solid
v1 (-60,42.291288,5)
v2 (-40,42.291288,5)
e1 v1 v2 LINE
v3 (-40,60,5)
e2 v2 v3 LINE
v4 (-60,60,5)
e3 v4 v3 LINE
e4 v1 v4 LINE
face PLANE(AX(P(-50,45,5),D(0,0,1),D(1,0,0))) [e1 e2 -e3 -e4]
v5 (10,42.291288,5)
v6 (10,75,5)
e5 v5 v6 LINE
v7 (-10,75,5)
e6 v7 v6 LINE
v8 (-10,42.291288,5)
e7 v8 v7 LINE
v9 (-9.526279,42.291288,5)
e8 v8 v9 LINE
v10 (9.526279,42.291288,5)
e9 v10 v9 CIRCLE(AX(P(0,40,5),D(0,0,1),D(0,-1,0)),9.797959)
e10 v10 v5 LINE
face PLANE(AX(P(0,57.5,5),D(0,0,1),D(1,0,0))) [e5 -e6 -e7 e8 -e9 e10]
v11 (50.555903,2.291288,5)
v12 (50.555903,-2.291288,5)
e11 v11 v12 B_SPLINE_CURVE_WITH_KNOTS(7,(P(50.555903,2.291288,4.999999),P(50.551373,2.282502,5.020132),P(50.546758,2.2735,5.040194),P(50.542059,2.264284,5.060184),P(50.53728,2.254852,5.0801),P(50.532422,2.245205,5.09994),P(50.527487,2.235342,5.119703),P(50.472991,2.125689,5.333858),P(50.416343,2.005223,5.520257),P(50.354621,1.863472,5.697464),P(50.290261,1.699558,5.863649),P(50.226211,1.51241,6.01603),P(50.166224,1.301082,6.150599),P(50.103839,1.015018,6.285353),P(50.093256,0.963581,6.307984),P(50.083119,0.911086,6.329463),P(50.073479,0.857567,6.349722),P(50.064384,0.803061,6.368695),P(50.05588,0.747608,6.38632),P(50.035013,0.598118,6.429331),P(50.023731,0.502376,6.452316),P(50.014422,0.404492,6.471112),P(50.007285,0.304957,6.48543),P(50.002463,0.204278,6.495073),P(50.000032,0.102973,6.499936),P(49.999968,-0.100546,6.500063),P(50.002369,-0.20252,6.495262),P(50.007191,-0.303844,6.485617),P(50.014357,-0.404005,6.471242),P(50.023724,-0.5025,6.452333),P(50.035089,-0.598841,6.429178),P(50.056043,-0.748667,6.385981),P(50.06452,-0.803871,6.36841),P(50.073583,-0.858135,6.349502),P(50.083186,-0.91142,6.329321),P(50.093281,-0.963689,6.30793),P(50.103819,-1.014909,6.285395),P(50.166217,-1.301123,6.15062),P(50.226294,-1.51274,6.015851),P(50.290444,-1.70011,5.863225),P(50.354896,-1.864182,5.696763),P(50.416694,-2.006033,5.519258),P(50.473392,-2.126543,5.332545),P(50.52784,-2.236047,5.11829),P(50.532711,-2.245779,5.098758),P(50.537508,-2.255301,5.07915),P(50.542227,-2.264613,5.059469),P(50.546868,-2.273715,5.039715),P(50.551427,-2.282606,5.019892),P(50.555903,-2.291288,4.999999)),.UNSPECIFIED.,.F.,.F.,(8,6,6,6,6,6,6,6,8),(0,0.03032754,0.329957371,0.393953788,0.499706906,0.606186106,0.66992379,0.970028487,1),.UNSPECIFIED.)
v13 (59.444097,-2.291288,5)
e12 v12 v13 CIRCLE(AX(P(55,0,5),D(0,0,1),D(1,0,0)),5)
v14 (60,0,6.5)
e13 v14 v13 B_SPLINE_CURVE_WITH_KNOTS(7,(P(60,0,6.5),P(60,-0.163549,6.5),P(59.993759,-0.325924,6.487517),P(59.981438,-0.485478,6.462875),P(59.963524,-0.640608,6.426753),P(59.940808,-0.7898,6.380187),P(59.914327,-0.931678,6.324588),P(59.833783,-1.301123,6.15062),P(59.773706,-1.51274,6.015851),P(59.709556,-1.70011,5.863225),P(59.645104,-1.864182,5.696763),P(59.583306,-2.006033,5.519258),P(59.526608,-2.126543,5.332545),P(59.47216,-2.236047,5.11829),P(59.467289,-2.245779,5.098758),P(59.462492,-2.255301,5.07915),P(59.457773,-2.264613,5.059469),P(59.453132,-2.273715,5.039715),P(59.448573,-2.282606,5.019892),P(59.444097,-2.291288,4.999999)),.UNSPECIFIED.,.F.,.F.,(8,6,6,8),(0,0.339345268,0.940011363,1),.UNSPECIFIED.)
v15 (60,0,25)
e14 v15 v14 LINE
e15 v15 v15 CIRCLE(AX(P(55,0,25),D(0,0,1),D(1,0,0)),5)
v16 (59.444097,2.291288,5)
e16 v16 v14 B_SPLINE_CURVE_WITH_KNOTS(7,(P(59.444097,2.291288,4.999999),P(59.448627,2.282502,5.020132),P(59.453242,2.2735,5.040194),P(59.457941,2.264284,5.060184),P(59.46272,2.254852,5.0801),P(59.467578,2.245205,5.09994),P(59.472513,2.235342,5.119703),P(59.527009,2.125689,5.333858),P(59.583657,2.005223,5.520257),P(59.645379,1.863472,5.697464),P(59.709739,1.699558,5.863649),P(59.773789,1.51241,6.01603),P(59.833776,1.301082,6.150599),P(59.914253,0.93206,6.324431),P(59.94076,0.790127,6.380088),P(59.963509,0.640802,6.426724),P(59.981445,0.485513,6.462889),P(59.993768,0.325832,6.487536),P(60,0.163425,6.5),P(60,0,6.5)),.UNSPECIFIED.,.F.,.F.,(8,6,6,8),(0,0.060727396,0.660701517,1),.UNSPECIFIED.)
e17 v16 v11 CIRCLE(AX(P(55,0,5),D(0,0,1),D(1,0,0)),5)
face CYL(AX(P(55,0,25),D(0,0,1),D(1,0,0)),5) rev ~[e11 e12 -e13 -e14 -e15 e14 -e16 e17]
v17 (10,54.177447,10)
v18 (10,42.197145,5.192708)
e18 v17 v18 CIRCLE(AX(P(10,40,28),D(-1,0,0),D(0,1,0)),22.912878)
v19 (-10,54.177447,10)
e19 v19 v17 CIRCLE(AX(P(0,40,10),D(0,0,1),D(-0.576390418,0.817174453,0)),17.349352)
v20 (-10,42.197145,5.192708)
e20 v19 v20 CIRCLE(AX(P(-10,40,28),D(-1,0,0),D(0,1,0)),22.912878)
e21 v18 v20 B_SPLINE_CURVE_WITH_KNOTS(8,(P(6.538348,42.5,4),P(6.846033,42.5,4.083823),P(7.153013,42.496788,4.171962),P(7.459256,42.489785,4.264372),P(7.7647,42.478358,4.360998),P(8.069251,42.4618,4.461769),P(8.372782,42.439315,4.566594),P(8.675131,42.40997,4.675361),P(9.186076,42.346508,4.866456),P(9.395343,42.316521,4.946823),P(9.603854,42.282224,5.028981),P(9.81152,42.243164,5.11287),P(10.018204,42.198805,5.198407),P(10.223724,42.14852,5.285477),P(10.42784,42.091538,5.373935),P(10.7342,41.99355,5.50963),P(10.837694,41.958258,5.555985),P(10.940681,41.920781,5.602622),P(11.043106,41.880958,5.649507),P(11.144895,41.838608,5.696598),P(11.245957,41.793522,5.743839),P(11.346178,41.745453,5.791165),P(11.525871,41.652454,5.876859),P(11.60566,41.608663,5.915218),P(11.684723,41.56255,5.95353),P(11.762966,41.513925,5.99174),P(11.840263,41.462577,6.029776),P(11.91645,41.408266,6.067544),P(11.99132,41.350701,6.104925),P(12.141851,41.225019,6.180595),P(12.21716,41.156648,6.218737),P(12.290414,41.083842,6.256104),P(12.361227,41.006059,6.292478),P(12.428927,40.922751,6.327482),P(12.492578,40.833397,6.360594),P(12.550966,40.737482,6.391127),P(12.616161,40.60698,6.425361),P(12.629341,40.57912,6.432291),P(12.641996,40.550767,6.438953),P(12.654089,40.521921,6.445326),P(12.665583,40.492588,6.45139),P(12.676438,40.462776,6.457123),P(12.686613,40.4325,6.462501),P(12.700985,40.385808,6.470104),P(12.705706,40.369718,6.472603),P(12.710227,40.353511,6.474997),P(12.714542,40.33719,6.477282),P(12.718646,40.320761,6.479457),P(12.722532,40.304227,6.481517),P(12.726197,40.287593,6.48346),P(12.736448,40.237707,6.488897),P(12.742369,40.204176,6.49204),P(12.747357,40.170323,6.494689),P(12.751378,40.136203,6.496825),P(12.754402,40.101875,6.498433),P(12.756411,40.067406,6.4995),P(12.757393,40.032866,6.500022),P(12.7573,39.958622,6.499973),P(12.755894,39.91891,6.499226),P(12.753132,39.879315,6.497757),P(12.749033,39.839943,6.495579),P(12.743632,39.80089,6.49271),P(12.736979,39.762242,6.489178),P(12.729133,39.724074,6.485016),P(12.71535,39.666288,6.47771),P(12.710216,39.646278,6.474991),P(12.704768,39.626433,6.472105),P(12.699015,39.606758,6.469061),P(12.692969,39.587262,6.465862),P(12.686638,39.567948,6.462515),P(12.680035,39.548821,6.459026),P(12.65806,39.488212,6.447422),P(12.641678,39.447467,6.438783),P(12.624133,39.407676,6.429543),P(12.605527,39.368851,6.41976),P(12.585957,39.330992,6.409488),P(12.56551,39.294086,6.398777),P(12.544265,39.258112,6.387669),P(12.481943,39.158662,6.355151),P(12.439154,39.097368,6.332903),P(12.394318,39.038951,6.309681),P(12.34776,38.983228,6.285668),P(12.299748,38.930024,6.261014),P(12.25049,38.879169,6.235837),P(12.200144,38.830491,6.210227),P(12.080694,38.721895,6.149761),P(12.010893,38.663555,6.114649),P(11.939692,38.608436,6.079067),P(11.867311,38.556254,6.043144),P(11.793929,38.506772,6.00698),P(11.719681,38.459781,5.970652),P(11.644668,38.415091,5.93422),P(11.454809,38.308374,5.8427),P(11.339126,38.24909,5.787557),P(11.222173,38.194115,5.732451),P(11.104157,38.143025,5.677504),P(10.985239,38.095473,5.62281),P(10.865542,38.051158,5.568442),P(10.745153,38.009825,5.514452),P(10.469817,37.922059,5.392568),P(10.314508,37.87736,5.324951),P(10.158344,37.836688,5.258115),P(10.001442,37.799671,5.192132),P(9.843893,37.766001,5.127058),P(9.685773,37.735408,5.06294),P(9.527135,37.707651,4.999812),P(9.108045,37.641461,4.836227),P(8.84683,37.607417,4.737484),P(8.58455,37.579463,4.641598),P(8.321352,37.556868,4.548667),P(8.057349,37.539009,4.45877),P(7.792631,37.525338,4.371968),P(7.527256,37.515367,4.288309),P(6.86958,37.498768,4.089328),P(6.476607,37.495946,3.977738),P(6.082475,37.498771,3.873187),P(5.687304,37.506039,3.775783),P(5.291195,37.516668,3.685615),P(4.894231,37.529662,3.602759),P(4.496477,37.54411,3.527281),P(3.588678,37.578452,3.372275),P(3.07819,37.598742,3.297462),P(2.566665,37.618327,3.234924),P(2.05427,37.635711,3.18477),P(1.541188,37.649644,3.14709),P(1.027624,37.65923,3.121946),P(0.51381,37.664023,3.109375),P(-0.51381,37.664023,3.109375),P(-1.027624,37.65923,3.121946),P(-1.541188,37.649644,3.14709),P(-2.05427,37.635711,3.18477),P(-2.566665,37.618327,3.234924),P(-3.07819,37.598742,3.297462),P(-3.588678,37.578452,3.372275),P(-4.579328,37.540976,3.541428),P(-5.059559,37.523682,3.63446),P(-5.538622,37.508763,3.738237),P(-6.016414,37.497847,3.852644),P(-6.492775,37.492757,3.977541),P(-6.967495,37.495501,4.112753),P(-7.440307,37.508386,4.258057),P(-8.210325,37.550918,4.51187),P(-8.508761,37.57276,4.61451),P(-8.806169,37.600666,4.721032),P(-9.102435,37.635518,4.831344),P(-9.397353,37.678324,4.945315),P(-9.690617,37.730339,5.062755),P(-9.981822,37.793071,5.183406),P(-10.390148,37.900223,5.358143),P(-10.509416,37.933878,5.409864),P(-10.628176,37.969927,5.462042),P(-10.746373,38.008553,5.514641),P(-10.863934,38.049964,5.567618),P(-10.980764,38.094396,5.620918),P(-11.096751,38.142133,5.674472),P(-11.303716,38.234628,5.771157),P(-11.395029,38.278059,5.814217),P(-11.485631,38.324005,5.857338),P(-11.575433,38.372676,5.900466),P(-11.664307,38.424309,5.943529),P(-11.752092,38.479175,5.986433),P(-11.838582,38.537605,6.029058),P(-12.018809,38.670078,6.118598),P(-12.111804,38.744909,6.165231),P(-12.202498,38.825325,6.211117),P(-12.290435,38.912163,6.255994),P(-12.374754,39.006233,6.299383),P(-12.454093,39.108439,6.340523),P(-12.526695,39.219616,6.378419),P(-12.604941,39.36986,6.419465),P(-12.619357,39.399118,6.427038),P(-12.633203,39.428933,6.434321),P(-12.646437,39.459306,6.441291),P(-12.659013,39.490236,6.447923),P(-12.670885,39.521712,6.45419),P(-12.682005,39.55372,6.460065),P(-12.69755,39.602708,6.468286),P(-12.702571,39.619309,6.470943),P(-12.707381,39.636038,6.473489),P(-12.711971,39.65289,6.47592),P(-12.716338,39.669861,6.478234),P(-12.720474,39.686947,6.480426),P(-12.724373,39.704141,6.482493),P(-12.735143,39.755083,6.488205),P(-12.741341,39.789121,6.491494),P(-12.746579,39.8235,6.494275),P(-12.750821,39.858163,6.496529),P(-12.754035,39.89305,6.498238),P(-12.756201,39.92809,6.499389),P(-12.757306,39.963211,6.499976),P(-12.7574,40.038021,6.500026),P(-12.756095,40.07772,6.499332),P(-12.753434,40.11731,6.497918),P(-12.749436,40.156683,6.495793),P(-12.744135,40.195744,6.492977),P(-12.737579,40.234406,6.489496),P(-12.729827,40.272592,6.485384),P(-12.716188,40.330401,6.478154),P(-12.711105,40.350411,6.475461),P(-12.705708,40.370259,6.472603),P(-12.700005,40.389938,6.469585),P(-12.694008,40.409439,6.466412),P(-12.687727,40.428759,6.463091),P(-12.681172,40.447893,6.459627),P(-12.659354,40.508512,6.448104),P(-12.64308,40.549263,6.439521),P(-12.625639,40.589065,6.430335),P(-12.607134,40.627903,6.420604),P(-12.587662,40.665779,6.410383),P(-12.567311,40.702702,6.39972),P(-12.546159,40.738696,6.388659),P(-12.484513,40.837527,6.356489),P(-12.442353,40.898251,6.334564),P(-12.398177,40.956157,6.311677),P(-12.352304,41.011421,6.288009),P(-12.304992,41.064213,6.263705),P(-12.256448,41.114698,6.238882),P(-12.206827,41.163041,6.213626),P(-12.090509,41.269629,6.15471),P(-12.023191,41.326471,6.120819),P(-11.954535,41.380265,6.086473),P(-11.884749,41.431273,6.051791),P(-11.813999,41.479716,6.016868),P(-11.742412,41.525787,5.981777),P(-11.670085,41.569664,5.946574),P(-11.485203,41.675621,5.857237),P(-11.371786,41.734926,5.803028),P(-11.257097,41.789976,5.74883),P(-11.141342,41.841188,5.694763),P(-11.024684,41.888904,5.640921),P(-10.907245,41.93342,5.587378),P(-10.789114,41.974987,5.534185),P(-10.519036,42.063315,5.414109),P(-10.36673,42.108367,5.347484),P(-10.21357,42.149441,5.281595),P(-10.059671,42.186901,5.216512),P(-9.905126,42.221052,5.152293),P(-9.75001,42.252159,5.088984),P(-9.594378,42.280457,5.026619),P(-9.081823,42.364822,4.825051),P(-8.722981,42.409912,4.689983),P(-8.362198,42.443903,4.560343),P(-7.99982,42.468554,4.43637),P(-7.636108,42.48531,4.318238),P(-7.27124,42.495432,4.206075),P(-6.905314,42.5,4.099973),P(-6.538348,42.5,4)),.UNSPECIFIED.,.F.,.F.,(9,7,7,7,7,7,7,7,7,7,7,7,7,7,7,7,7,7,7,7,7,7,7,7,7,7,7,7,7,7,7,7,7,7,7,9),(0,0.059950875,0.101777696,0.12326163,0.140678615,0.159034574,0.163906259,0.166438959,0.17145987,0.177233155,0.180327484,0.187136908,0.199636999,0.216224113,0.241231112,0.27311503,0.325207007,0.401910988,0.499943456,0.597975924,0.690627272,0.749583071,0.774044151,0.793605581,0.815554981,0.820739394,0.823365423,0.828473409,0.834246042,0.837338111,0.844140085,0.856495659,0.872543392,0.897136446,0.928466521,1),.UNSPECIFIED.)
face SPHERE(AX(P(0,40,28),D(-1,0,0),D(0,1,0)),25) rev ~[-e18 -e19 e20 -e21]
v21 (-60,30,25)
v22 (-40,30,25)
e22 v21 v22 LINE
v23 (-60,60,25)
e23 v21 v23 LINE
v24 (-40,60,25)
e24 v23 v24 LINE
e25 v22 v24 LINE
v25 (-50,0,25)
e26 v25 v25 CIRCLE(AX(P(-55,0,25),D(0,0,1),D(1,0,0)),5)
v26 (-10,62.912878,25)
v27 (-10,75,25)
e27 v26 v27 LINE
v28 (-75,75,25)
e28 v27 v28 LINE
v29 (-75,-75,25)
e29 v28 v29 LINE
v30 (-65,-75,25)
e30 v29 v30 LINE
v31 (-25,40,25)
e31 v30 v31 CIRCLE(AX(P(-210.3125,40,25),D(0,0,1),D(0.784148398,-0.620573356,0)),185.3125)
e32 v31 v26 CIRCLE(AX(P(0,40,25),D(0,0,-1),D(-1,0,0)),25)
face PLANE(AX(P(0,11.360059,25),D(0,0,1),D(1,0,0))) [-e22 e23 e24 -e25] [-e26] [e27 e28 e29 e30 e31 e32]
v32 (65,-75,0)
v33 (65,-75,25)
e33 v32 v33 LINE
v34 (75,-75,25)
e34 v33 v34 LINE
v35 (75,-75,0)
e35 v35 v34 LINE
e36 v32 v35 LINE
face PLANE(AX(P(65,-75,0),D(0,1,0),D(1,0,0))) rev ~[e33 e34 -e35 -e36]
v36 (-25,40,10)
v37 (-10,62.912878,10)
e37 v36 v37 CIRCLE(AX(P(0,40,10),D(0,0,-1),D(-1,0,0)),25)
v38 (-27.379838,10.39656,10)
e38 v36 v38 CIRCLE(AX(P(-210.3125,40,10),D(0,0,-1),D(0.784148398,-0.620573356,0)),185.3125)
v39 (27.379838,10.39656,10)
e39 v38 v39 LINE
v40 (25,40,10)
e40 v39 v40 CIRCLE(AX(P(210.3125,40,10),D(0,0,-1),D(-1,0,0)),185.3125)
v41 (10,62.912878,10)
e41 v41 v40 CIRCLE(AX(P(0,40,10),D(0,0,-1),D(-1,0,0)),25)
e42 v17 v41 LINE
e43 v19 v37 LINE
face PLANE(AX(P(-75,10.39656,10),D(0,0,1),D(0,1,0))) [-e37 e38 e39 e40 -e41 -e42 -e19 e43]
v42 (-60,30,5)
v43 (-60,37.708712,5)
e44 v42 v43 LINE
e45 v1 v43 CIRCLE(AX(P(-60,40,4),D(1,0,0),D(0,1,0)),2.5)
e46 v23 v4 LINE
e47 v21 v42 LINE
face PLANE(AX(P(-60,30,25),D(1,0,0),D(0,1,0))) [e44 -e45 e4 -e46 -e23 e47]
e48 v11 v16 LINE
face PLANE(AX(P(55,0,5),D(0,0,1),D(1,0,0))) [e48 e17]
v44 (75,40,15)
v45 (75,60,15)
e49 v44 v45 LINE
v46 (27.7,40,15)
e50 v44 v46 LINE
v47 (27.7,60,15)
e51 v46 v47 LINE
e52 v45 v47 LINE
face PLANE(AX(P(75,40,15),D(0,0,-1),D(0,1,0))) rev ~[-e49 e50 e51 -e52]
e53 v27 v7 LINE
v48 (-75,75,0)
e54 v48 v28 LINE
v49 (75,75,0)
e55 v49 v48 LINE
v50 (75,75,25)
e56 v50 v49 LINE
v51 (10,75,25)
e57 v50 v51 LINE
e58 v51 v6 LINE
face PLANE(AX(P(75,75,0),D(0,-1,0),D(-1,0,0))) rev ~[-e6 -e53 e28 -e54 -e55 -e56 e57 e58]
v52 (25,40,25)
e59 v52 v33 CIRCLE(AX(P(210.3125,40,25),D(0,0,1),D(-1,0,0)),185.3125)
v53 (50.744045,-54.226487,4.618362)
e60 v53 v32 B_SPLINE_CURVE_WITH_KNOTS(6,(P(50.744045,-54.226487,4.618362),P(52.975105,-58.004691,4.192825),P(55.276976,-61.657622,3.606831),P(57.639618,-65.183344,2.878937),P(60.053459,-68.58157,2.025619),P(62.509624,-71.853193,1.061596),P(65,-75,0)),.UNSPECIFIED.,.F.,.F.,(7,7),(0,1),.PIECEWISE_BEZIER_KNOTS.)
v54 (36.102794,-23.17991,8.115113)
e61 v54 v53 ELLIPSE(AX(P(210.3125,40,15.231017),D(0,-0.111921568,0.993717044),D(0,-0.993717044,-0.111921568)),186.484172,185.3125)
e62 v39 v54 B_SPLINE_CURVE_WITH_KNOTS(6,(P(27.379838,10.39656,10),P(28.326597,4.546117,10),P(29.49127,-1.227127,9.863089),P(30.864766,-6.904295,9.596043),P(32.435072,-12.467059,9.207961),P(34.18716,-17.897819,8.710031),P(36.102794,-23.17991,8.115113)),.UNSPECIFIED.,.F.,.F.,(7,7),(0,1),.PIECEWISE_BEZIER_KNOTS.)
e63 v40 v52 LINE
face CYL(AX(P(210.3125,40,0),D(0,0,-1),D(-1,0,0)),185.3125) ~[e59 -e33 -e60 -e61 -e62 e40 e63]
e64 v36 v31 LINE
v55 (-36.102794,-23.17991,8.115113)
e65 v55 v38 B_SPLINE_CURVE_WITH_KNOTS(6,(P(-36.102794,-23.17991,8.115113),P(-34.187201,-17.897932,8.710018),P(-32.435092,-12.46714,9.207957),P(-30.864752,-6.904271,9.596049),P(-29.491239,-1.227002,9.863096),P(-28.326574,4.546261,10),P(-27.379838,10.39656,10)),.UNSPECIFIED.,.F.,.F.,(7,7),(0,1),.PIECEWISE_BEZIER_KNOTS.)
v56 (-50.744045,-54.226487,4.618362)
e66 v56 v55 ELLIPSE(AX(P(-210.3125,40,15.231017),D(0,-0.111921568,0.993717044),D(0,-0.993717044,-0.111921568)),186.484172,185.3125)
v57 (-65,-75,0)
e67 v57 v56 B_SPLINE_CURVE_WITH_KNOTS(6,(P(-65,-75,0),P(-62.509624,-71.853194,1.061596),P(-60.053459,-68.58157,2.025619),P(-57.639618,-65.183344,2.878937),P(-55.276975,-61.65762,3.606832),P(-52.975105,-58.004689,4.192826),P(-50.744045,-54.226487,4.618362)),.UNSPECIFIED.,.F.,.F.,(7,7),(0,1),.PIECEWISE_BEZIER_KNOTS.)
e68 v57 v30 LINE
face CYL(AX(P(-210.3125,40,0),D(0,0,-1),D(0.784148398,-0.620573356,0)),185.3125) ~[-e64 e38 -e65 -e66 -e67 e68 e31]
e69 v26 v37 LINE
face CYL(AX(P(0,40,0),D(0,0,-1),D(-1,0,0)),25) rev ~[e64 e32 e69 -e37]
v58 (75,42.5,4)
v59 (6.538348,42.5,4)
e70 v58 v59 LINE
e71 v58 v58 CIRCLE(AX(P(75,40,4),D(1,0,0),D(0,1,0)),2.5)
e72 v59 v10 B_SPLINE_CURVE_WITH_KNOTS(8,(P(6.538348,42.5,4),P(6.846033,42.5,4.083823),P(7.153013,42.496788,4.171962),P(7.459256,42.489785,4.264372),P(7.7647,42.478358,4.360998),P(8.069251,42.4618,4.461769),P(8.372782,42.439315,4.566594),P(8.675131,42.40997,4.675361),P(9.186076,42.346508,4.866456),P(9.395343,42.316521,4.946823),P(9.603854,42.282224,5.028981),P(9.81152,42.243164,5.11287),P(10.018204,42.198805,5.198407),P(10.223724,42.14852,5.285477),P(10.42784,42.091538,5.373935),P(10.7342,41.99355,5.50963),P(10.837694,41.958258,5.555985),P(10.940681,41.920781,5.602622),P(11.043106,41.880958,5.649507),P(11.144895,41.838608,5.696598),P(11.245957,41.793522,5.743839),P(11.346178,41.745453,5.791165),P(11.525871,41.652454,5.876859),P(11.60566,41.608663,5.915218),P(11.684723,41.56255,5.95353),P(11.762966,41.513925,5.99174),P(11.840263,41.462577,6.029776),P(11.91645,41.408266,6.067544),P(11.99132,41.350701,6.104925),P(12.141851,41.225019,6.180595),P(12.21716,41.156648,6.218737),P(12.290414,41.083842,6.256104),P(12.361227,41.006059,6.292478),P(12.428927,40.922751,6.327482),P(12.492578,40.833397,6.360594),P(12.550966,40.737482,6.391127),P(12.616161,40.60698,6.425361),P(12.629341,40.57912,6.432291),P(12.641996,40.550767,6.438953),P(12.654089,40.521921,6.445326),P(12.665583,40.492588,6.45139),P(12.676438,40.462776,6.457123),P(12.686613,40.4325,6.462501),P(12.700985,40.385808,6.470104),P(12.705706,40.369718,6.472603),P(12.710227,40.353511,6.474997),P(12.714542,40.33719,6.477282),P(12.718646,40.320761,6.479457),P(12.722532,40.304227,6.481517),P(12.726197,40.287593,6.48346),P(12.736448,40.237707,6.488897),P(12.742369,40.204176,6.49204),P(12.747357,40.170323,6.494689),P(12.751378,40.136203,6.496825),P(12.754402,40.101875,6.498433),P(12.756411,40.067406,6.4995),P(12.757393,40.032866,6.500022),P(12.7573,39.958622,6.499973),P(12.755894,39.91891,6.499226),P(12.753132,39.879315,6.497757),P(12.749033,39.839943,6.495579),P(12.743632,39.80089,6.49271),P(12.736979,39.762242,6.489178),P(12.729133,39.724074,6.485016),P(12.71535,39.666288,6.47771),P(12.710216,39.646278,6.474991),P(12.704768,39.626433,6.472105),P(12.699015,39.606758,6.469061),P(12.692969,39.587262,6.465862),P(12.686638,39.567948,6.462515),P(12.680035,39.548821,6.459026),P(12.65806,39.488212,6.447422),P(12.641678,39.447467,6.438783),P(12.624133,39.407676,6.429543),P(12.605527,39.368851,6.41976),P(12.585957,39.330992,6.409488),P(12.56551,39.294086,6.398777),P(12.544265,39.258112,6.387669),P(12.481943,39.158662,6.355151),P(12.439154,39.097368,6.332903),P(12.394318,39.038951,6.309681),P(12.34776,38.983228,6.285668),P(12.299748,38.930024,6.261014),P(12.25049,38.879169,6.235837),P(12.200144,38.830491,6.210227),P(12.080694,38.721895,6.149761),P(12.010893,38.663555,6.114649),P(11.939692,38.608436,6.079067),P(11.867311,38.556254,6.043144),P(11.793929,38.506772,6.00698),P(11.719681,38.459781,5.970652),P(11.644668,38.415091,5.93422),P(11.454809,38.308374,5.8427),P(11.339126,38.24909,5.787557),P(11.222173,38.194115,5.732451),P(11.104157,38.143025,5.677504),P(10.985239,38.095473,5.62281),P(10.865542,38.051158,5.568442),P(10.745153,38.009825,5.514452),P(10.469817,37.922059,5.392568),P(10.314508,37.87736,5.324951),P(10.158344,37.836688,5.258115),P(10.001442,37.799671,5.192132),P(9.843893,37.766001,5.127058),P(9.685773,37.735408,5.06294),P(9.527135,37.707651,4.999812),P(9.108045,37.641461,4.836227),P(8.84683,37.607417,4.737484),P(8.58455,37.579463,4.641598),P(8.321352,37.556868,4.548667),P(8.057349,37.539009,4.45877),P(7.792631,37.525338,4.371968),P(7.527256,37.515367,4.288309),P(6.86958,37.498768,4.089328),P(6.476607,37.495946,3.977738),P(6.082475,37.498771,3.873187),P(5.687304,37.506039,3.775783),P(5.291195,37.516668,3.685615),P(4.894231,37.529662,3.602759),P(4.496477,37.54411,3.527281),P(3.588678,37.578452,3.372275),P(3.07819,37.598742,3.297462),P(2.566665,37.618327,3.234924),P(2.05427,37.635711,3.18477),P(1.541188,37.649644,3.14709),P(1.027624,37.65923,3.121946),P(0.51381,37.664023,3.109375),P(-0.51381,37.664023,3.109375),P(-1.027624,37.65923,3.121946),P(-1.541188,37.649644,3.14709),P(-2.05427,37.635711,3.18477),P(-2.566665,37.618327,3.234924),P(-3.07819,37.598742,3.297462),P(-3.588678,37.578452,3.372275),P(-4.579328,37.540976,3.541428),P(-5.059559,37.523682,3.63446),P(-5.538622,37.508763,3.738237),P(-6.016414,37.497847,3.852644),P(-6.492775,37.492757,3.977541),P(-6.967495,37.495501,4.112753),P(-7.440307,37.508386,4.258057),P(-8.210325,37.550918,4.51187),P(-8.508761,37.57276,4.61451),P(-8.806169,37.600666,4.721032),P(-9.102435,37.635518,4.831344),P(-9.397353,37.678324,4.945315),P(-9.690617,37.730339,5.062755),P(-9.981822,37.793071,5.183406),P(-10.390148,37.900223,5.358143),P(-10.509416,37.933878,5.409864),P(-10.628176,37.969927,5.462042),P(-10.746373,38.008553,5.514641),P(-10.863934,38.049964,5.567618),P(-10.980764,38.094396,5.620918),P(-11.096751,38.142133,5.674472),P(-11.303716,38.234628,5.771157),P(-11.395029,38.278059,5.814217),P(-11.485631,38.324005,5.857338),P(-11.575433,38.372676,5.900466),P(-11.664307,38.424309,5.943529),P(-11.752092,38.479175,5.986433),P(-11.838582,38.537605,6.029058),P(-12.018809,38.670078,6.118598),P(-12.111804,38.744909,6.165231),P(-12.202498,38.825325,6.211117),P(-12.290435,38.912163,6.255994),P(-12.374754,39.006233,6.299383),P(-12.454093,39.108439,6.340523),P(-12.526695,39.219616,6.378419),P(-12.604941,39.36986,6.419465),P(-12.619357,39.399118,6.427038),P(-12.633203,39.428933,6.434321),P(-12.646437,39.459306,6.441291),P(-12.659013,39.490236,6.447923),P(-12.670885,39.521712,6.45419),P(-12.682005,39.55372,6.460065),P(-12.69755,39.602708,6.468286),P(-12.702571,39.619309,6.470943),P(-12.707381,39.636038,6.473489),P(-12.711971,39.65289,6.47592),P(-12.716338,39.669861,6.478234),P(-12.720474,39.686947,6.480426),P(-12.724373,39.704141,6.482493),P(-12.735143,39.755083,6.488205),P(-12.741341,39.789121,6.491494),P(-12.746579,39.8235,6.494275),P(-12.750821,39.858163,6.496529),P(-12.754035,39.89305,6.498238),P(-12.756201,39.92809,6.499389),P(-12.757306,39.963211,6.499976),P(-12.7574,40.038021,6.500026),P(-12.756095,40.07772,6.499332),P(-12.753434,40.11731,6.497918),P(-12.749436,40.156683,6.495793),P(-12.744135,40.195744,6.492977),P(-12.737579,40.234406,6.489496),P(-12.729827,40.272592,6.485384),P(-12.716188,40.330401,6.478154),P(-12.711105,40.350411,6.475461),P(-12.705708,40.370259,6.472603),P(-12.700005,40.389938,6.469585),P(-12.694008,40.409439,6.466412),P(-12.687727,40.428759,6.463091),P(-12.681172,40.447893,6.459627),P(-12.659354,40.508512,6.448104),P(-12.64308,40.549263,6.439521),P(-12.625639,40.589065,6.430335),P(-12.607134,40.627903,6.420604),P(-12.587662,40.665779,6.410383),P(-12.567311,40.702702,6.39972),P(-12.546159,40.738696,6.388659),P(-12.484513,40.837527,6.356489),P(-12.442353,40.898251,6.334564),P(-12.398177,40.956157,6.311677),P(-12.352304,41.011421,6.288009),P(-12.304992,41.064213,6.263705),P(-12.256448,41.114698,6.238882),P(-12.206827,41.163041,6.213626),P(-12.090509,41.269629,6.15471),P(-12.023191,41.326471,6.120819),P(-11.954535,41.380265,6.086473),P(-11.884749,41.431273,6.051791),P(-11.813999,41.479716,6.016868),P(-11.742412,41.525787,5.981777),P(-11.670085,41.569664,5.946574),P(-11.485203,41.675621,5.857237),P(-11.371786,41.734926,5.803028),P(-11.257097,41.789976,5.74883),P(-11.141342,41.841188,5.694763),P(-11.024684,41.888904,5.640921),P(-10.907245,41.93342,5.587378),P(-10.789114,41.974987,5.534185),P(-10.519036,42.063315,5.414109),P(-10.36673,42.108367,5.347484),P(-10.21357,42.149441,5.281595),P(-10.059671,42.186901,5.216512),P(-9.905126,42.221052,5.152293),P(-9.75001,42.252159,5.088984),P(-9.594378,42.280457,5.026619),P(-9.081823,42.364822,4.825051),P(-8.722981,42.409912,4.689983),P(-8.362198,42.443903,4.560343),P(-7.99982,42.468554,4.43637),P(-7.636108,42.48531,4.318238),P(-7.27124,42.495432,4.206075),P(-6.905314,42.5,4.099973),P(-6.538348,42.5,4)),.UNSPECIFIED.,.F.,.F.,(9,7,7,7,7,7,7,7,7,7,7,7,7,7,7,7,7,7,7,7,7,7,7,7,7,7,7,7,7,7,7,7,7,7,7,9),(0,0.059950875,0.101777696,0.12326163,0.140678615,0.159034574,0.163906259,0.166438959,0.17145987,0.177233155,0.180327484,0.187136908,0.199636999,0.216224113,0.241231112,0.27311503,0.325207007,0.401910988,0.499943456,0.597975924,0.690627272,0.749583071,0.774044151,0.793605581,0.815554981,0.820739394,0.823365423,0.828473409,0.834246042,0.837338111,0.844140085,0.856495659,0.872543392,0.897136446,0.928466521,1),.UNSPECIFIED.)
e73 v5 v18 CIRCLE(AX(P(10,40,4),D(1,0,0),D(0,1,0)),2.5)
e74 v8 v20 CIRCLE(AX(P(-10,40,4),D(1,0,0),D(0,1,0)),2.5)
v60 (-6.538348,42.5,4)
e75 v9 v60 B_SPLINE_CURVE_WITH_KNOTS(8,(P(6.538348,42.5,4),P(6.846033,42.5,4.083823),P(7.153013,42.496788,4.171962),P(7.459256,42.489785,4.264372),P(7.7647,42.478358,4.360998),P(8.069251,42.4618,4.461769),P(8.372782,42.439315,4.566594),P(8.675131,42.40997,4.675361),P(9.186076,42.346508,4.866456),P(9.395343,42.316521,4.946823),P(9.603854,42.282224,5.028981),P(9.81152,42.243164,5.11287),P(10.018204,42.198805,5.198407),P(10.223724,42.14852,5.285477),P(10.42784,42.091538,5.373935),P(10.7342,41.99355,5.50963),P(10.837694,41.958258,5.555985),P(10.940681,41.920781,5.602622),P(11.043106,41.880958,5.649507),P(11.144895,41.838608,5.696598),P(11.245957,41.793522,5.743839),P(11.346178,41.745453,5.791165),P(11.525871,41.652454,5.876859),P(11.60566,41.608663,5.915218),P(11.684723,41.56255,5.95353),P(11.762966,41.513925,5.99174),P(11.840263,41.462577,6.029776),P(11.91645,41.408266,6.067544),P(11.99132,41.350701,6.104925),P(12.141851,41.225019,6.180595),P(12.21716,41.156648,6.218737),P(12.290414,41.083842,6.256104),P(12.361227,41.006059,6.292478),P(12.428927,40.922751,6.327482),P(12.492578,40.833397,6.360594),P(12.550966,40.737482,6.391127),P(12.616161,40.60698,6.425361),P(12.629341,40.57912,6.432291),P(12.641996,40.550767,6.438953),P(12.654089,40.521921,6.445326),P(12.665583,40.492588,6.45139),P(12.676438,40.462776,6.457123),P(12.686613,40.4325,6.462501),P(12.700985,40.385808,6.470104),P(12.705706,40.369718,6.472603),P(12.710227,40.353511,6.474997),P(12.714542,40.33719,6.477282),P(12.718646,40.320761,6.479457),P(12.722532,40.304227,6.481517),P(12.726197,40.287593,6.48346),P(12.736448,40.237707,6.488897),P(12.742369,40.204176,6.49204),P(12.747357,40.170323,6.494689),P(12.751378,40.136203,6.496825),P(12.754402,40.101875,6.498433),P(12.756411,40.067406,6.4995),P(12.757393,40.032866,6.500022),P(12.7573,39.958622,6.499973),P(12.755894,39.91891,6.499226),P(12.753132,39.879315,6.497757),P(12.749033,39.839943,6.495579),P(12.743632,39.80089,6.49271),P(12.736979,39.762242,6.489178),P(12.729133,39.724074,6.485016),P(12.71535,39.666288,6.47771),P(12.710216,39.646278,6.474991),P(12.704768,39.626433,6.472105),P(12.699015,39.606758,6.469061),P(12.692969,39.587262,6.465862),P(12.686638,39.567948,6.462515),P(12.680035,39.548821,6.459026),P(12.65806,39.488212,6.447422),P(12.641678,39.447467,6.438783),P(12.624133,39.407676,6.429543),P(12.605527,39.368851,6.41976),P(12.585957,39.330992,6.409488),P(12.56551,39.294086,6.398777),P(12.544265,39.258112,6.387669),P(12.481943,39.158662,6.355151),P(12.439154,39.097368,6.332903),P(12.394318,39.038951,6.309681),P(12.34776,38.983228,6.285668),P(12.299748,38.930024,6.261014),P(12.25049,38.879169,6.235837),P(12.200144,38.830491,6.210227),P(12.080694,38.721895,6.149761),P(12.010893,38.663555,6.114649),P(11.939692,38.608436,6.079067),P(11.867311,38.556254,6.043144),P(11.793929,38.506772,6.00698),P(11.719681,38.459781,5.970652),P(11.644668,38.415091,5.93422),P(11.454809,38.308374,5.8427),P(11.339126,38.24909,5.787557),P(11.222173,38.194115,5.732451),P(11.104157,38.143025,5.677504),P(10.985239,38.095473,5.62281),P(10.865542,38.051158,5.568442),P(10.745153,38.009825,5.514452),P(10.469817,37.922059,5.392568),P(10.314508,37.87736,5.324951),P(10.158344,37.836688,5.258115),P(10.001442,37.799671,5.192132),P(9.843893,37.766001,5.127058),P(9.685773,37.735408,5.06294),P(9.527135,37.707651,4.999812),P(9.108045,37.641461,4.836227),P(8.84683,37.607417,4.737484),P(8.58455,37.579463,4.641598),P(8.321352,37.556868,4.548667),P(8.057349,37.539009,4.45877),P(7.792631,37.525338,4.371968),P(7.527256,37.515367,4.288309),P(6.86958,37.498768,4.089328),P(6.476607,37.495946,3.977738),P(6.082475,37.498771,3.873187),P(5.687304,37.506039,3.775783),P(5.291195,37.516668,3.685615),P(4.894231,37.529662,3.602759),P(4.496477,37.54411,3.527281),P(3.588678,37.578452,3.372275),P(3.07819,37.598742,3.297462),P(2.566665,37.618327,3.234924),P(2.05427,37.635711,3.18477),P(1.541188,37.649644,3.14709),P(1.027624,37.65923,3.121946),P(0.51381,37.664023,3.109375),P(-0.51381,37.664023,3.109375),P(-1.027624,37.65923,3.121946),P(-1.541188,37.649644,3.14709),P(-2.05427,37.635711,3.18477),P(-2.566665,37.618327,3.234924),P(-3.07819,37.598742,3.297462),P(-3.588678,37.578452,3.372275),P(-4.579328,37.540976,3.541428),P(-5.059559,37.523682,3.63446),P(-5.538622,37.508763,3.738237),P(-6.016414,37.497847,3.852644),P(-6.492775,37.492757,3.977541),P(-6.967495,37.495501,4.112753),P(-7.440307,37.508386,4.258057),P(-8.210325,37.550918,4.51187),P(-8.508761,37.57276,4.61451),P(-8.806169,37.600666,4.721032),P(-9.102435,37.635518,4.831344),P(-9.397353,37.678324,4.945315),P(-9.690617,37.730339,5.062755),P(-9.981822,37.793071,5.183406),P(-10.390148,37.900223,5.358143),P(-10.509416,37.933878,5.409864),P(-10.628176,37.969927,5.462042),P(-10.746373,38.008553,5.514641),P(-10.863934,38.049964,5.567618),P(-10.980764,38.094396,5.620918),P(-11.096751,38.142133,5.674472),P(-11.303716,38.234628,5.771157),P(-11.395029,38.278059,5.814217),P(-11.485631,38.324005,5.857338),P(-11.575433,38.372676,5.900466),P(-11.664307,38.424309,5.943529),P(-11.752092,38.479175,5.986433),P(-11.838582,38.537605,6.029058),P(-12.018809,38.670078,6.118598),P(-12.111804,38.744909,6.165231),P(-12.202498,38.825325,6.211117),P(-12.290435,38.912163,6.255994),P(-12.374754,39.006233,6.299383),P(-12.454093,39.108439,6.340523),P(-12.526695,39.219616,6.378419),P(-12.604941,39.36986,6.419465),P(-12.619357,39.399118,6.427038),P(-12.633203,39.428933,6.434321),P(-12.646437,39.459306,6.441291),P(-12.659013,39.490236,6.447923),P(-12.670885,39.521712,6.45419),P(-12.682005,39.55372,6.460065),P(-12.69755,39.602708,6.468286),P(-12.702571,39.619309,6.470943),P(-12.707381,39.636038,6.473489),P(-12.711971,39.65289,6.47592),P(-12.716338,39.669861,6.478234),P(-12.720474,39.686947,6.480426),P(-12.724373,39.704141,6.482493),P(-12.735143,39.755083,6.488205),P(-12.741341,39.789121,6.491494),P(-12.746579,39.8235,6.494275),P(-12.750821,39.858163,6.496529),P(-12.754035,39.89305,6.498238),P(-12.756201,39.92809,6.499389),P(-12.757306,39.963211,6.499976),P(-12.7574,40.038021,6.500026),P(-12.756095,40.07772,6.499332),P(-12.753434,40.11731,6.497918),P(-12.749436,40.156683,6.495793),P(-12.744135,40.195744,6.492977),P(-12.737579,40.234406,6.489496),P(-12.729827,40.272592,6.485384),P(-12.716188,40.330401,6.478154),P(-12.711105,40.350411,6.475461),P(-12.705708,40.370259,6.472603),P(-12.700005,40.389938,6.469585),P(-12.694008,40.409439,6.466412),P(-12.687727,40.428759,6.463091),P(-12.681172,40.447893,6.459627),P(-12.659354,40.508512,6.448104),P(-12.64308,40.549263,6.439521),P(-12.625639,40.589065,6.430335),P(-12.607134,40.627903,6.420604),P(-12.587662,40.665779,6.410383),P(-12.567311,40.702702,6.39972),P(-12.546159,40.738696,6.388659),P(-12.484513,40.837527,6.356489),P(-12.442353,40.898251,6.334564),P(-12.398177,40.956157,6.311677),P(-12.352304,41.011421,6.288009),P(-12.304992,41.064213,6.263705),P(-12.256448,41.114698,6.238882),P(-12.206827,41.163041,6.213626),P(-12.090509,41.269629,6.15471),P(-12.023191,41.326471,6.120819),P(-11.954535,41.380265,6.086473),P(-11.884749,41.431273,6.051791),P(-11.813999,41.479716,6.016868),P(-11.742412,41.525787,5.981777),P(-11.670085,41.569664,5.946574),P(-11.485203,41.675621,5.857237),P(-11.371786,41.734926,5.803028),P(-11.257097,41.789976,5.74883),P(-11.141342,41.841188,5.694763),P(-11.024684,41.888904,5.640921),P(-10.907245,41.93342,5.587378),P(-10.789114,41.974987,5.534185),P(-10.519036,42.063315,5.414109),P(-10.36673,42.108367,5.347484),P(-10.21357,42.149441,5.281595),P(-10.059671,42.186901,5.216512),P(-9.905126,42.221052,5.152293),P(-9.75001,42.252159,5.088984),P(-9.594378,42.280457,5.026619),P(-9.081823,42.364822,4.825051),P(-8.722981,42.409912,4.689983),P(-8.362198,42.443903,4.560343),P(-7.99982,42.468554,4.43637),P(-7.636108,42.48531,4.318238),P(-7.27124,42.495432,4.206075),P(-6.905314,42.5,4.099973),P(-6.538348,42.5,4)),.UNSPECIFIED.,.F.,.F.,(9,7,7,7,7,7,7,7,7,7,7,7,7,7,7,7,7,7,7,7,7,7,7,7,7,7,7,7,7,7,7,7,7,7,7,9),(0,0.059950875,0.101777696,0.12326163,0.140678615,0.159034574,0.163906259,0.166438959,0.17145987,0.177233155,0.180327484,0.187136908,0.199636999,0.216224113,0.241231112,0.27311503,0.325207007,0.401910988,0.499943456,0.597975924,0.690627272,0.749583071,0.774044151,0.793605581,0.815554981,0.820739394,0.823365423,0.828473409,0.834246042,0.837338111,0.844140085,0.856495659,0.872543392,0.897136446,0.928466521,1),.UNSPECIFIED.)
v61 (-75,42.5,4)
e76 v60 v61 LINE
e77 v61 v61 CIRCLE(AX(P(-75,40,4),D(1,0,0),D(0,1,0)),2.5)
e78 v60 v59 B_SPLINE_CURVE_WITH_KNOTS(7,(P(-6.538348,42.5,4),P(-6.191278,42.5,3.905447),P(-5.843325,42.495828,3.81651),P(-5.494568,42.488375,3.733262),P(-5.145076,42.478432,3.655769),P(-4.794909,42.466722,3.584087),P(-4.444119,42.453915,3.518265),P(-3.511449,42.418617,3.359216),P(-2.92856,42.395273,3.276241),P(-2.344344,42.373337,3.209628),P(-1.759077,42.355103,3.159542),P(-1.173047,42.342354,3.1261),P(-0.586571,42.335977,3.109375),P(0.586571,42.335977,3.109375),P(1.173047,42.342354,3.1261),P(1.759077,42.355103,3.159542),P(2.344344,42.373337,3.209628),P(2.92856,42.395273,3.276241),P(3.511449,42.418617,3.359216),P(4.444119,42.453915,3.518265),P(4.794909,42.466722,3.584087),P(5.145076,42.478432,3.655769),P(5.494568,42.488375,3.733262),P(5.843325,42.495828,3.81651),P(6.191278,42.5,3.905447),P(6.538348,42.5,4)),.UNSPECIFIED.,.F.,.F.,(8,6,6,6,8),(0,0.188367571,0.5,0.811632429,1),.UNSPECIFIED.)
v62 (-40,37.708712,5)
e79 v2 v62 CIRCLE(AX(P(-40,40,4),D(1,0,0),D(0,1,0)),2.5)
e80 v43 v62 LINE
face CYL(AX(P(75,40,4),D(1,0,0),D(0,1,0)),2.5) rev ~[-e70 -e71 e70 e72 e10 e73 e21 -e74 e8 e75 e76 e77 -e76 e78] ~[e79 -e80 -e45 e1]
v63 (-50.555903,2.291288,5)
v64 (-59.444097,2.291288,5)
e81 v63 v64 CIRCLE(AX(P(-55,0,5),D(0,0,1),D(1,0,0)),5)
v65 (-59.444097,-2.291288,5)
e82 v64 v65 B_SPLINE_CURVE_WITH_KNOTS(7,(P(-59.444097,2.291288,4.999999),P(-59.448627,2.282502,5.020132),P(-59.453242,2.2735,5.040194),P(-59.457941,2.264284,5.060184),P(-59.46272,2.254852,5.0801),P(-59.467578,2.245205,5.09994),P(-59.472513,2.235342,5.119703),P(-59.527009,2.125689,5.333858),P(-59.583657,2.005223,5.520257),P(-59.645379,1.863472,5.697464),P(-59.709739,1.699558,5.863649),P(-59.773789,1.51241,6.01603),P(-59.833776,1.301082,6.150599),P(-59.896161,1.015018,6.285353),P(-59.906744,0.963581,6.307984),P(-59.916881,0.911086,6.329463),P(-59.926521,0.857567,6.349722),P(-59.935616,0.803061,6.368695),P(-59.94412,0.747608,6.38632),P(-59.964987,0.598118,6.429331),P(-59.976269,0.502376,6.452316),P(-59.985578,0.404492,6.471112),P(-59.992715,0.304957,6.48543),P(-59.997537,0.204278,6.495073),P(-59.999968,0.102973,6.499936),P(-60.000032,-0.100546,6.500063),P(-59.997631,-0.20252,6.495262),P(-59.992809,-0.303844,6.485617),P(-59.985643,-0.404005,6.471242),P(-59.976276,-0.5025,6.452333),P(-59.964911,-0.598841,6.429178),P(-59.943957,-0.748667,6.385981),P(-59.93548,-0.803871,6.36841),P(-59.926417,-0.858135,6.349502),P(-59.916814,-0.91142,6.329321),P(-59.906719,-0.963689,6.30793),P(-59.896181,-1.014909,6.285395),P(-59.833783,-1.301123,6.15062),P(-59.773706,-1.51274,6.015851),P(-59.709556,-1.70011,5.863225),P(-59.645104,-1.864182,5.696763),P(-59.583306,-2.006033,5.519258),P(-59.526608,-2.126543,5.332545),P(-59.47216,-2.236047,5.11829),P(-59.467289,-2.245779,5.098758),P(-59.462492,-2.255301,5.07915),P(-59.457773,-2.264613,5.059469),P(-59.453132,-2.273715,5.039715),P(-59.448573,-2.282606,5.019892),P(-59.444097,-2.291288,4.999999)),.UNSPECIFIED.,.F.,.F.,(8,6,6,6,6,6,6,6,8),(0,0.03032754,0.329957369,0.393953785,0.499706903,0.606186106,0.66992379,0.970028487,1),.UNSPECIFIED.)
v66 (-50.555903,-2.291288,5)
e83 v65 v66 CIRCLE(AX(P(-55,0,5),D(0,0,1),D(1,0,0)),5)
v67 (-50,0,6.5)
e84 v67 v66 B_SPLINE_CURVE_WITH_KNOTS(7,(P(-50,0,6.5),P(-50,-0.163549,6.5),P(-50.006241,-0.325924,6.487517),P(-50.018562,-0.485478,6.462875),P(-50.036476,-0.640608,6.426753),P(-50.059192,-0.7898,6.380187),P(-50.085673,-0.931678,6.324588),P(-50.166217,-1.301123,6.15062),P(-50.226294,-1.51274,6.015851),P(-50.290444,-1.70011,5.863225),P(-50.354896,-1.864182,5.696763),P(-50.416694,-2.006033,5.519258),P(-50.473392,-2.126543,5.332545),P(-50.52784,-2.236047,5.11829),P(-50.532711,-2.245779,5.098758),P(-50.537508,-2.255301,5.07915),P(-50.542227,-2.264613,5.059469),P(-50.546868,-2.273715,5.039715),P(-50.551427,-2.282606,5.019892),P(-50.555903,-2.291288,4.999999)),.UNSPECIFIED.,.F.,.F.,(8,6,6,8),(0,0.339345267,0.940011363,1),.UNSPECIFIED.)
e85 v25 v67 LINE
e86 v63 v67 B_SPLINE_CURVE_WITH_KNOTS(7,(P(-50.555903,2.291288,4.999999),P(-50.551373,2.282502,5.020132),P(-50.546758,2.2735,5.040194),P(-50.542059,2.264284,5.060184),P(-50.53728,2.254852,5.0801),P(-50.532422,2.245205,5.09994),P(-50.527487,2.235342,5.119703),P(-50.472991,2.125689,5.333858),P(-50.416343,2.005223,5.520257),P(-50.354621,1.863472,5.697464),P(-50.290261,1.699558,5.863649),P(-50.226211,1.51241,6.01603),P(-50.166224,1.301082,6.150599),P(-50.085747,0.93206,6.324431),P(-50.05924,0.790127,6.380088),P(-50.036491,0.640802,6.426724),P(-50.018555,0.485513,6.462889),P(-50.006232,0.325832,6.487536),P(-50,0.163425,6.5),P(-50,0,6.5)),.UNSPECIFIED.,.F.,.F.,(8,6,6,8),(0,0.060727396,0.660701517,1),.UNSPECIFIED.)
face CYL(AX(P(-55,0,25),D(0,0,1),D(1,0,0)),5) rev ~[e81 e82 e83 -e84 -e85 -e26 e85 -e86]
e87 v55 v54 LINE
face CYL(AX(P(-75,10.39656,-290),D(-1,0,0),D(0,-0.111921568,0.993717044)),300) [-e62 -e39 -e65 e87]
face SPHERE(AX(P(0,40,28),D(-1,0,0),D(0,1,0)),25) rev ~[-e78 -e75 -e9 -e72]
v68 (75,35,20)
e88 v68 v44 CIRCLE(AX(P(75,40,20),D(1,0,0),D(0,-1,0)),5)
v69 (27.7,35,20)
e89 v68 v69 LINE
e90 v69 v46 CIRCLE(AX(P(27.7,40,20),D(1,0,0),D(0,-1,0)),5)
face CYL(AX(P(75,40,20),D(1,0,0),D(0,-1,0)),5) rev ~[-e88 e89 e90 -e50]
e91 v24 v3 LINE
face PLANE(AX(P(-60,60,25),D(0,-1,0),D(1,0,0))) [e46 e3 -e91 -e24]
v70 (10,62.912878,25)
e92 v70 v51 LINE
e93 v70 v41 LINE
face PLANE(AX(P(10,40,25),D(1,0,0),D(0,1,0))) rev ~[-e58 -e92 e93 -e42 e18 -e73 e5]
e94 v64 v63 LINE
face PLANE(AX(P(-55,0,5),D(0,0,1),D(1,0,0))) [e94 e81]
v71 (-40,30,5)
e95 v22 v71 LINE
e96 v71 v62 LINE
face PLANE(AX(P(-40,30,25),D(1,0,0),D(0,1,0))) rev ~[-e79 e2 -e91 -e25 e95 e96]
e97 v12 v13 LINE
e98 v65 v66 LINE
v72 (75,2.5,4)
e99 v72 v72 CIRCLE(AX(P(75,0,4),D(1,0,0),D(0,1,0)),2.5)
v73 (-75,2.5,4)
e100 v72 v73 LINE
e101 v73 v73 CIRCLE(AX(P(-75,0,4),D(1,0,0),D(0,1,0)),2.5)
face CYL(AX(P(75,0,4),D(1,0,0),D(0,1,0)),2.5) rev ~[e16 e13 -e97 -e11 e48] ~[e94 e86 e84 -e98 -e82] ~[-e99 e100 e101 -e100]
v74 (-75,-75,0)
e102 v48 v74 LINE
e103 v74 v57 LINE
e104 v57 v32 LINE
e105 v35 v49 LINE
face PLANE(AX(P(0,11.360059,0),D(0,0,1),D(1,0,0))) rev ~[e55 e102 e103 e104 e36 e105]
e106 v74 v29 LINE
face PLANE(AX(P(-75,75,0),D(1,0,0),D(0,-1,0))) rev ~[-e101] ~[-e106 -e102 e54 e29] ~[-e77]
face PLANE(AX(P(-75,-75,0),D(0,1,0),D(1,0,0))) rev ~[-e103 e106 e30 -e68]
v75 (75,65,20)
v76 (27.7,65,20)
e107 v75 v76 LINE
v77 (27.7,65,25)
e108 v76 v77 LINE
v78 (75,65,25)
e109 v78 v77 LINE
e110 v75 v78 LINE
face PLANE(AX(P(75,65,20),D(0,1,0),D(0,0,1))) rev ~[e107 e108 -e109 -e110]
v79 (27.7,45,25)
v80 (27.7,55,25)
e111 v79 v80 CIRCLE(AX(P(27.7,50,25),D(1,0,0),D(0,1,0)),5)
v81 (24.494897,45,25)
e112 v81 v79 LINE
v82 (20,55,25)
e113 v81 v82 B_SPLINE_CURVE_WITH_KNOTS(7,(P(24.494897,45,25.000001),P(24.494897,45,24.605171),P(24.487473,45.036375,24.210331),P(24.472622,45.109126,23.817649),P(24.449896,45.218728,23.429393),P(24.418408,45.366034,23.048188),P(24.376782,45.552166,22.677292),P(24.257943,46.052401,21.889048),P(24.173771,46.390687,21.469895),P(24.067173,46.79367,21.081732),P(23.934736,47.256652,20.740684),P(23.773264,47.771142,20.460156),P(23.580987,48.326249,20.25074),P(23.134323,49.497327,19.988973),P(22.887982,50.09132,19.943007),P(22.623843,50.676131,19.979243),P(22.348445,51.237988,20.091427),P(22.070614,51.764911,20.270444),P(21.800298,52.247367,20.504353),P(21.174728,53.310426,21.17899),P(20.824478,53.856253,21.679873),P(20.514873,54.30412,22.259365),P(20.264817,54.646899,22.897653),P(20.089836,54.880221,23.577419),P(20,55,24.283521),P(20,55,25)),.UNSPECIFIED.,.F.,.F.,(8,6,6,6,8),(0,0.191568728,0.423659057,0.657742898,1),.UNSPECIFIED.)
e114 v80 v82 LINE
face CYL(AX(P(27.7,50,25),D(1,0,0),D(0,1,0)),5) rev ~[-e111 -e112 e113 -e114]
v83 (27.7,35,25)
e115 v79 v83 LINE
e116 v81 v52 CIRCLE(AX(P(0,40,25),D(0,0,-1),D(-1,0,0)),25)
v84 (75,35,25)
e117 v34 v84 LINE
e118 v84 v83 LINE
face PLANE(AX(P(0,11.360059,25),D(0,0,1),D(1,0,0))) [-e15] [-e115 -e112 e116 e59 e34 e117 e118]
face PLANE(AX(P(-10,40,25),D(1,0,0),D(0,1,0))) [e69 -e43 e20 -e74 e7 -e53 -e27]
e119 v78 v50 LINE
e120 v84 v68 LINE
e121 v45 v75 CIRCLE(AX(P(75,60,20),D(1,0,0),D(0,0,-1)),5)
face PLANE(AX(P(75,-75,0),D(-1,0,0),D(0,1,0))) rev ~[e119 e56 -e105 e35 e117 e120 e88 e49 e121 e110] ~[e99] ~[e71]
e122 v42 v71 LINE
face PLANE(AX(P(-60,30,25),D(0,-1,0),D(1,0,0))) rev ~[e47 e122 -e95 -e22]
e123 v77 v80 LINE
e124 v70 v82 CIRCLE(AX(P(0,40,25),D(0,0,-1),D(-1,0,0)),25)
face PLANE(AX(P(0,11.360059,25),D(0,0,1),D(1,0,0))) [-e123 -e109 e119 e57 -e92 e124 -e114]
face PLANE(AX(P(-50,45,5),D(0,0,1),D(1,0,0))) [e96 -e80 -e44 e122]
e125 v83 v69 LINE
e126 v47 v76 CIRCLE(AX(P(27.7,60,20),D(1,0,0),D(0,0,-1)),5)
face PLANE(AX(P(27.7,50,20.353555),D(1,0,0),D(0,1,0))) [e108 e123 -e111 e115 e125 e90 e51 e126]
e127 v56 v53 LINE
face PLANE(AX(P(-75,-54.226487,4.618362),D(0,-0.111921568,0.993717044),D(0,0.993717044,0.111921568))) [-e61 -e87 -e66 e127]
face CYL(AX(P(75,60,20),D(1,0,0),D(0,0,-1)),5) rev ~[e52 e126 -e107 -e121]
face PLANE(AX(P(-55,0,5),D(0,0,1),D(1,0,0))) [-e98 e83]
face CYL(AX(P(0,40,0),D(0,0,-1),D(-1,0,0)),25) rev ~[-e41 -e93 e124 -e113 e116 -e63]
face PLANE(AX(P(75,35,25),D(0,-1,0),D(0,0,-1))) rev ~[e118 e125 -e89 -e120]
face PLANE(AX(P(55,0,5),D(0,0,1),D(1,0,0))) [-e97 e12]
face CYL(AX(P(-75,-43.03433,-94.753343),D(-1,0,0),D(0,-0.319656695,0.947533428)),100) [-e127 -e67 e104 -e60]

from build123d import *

# Parameters (mm, degrees)
F1_DEPTH  = 25
F3_DEPTH  = 150
F7_R      = 2.5
F8_DEPTH  = 150.001
F9_W      = 20
F9_H      = 30
F9_R      = 5
F9_H_2    = 35
F10_DEPTH = 20
F12_DEPTH = 47.3
F13_R     = 5
F14_DEPTH = 15.8


with BuildPart() as f1:
    # F0 (on Top) → F1 (new body)
    with BuildSketch(Plane.XY):
        with BuildLine():
            Line((75, 75), (-75, 75))
            Line((-75, 75), (-75, -75))
            Line((-75, -75), (-65, -75))
            ThreePointArc((-65, -75), (-35.2854373604, -20.8789783094), (-25, 40))
            ThreePointArc((-25, 40), (0, 65), (25, 40))
            ThreePointArc((25, 40), (35.2854373604, -20.8789783094), (65, -75))
            Line((65, -75), (75, -75))
            Line((75, -75), (75, 75))
        make_face()
    extrude(amount=F1_DEPTH)

    # F2 (on face) → F3 (join, through all)
    with BuildSketch(Plane(origin=(-75, 0, 0), x_dir=(0, -1, 0), z_dir=(-1, 0, 0))):
        with BuildLine():
            Line((-75, 10), (-75, 0))
            Line((-75, 0), (75, 0))
            ThreePointArc((75, 0), (64.7364457874, 2.863347323), (54.2264872704, 4.6183615505))
            Line((54.2264872704, 4.6183615505), (23.1799102031, 8.115113068))
            ThreePointArc((23.1799102031, 8.115113068), (6.4181072647, 9.5284076014), (-10.3965601359, 10))
            Line((-10.3965601359, 10), (-75, 10))
        make_face()
    extrude(amount=-F3_DEPTH)

    # F5 (on offset) → F6 (revolve, cut)
    with BuildSketch(Plane.XY.offset(28)):
        with BuildLine():
            Line((-25, 40), (25, 40))
            ThreePointArc((25, 40), (0, 65), (-25, 40))
        make_face()
    revolve(axis=Axis((0, 40, 28), (-1, 0, 0)), mode=Mode.SUBTRACT)

    # F7 (on face) → F8 (cut, through all)
    with BuildSketch(Plane.YZ.offset(75)):
        with Locations((40, 4)):
            Circle(F7_R)
        with Locations((0, 4)):
            Circle(F7_R)
    extrude(amount=-F8_DEPTH, mode=Mode.SUBTRACT)

    # F9 (on face) → F10 (cut)
    with BuildSketch(Plane.XY.offset(25)):
        with Locations((-50, 45)):
            Rectangle(F9_W, F9_H)
        with Locations((-55, 0)):
            Circle(F9_R)
        with Locations((55, 0)):
            Circle(F9_R)
        with Locations((0, 57.5)):
            Rectangle(F9_W, F9_H_2)
    extrude(amount=-F10_DEPTH, mode=Mode.SUBTRACT)

    # F11 (on face) → F12 (cut)
    with BuildSketch(Plane.YZ.offset(75)):
        with BuildLine():
            Line((65, 25), (35, 25))
            Line((35, 25), (35, 20))
            ThreePointArc((35, 20), (36.4644660941, 16.4644660941), (40, 15))
            Line((40, 15), (60, 15))
            ThreePointArc((60, 15), (63.5355339059, 16.4644660941), (65, 20))
            Line((65, 20), (65, 25))
        make_face()
    extrude(amount=-F12_DEPTH, mode=Mode.SUBTRACT)

    # F13 (on face) → F14 (cut)
    with BuildSketch(Plane.YZ.offset(27.7)):
        with Locations((50, 25)):
            Circle(F13_R)
    extrude(amount=-F14_DEPTH, mode=Mode.SUBTRACT)


solid = f1.part
